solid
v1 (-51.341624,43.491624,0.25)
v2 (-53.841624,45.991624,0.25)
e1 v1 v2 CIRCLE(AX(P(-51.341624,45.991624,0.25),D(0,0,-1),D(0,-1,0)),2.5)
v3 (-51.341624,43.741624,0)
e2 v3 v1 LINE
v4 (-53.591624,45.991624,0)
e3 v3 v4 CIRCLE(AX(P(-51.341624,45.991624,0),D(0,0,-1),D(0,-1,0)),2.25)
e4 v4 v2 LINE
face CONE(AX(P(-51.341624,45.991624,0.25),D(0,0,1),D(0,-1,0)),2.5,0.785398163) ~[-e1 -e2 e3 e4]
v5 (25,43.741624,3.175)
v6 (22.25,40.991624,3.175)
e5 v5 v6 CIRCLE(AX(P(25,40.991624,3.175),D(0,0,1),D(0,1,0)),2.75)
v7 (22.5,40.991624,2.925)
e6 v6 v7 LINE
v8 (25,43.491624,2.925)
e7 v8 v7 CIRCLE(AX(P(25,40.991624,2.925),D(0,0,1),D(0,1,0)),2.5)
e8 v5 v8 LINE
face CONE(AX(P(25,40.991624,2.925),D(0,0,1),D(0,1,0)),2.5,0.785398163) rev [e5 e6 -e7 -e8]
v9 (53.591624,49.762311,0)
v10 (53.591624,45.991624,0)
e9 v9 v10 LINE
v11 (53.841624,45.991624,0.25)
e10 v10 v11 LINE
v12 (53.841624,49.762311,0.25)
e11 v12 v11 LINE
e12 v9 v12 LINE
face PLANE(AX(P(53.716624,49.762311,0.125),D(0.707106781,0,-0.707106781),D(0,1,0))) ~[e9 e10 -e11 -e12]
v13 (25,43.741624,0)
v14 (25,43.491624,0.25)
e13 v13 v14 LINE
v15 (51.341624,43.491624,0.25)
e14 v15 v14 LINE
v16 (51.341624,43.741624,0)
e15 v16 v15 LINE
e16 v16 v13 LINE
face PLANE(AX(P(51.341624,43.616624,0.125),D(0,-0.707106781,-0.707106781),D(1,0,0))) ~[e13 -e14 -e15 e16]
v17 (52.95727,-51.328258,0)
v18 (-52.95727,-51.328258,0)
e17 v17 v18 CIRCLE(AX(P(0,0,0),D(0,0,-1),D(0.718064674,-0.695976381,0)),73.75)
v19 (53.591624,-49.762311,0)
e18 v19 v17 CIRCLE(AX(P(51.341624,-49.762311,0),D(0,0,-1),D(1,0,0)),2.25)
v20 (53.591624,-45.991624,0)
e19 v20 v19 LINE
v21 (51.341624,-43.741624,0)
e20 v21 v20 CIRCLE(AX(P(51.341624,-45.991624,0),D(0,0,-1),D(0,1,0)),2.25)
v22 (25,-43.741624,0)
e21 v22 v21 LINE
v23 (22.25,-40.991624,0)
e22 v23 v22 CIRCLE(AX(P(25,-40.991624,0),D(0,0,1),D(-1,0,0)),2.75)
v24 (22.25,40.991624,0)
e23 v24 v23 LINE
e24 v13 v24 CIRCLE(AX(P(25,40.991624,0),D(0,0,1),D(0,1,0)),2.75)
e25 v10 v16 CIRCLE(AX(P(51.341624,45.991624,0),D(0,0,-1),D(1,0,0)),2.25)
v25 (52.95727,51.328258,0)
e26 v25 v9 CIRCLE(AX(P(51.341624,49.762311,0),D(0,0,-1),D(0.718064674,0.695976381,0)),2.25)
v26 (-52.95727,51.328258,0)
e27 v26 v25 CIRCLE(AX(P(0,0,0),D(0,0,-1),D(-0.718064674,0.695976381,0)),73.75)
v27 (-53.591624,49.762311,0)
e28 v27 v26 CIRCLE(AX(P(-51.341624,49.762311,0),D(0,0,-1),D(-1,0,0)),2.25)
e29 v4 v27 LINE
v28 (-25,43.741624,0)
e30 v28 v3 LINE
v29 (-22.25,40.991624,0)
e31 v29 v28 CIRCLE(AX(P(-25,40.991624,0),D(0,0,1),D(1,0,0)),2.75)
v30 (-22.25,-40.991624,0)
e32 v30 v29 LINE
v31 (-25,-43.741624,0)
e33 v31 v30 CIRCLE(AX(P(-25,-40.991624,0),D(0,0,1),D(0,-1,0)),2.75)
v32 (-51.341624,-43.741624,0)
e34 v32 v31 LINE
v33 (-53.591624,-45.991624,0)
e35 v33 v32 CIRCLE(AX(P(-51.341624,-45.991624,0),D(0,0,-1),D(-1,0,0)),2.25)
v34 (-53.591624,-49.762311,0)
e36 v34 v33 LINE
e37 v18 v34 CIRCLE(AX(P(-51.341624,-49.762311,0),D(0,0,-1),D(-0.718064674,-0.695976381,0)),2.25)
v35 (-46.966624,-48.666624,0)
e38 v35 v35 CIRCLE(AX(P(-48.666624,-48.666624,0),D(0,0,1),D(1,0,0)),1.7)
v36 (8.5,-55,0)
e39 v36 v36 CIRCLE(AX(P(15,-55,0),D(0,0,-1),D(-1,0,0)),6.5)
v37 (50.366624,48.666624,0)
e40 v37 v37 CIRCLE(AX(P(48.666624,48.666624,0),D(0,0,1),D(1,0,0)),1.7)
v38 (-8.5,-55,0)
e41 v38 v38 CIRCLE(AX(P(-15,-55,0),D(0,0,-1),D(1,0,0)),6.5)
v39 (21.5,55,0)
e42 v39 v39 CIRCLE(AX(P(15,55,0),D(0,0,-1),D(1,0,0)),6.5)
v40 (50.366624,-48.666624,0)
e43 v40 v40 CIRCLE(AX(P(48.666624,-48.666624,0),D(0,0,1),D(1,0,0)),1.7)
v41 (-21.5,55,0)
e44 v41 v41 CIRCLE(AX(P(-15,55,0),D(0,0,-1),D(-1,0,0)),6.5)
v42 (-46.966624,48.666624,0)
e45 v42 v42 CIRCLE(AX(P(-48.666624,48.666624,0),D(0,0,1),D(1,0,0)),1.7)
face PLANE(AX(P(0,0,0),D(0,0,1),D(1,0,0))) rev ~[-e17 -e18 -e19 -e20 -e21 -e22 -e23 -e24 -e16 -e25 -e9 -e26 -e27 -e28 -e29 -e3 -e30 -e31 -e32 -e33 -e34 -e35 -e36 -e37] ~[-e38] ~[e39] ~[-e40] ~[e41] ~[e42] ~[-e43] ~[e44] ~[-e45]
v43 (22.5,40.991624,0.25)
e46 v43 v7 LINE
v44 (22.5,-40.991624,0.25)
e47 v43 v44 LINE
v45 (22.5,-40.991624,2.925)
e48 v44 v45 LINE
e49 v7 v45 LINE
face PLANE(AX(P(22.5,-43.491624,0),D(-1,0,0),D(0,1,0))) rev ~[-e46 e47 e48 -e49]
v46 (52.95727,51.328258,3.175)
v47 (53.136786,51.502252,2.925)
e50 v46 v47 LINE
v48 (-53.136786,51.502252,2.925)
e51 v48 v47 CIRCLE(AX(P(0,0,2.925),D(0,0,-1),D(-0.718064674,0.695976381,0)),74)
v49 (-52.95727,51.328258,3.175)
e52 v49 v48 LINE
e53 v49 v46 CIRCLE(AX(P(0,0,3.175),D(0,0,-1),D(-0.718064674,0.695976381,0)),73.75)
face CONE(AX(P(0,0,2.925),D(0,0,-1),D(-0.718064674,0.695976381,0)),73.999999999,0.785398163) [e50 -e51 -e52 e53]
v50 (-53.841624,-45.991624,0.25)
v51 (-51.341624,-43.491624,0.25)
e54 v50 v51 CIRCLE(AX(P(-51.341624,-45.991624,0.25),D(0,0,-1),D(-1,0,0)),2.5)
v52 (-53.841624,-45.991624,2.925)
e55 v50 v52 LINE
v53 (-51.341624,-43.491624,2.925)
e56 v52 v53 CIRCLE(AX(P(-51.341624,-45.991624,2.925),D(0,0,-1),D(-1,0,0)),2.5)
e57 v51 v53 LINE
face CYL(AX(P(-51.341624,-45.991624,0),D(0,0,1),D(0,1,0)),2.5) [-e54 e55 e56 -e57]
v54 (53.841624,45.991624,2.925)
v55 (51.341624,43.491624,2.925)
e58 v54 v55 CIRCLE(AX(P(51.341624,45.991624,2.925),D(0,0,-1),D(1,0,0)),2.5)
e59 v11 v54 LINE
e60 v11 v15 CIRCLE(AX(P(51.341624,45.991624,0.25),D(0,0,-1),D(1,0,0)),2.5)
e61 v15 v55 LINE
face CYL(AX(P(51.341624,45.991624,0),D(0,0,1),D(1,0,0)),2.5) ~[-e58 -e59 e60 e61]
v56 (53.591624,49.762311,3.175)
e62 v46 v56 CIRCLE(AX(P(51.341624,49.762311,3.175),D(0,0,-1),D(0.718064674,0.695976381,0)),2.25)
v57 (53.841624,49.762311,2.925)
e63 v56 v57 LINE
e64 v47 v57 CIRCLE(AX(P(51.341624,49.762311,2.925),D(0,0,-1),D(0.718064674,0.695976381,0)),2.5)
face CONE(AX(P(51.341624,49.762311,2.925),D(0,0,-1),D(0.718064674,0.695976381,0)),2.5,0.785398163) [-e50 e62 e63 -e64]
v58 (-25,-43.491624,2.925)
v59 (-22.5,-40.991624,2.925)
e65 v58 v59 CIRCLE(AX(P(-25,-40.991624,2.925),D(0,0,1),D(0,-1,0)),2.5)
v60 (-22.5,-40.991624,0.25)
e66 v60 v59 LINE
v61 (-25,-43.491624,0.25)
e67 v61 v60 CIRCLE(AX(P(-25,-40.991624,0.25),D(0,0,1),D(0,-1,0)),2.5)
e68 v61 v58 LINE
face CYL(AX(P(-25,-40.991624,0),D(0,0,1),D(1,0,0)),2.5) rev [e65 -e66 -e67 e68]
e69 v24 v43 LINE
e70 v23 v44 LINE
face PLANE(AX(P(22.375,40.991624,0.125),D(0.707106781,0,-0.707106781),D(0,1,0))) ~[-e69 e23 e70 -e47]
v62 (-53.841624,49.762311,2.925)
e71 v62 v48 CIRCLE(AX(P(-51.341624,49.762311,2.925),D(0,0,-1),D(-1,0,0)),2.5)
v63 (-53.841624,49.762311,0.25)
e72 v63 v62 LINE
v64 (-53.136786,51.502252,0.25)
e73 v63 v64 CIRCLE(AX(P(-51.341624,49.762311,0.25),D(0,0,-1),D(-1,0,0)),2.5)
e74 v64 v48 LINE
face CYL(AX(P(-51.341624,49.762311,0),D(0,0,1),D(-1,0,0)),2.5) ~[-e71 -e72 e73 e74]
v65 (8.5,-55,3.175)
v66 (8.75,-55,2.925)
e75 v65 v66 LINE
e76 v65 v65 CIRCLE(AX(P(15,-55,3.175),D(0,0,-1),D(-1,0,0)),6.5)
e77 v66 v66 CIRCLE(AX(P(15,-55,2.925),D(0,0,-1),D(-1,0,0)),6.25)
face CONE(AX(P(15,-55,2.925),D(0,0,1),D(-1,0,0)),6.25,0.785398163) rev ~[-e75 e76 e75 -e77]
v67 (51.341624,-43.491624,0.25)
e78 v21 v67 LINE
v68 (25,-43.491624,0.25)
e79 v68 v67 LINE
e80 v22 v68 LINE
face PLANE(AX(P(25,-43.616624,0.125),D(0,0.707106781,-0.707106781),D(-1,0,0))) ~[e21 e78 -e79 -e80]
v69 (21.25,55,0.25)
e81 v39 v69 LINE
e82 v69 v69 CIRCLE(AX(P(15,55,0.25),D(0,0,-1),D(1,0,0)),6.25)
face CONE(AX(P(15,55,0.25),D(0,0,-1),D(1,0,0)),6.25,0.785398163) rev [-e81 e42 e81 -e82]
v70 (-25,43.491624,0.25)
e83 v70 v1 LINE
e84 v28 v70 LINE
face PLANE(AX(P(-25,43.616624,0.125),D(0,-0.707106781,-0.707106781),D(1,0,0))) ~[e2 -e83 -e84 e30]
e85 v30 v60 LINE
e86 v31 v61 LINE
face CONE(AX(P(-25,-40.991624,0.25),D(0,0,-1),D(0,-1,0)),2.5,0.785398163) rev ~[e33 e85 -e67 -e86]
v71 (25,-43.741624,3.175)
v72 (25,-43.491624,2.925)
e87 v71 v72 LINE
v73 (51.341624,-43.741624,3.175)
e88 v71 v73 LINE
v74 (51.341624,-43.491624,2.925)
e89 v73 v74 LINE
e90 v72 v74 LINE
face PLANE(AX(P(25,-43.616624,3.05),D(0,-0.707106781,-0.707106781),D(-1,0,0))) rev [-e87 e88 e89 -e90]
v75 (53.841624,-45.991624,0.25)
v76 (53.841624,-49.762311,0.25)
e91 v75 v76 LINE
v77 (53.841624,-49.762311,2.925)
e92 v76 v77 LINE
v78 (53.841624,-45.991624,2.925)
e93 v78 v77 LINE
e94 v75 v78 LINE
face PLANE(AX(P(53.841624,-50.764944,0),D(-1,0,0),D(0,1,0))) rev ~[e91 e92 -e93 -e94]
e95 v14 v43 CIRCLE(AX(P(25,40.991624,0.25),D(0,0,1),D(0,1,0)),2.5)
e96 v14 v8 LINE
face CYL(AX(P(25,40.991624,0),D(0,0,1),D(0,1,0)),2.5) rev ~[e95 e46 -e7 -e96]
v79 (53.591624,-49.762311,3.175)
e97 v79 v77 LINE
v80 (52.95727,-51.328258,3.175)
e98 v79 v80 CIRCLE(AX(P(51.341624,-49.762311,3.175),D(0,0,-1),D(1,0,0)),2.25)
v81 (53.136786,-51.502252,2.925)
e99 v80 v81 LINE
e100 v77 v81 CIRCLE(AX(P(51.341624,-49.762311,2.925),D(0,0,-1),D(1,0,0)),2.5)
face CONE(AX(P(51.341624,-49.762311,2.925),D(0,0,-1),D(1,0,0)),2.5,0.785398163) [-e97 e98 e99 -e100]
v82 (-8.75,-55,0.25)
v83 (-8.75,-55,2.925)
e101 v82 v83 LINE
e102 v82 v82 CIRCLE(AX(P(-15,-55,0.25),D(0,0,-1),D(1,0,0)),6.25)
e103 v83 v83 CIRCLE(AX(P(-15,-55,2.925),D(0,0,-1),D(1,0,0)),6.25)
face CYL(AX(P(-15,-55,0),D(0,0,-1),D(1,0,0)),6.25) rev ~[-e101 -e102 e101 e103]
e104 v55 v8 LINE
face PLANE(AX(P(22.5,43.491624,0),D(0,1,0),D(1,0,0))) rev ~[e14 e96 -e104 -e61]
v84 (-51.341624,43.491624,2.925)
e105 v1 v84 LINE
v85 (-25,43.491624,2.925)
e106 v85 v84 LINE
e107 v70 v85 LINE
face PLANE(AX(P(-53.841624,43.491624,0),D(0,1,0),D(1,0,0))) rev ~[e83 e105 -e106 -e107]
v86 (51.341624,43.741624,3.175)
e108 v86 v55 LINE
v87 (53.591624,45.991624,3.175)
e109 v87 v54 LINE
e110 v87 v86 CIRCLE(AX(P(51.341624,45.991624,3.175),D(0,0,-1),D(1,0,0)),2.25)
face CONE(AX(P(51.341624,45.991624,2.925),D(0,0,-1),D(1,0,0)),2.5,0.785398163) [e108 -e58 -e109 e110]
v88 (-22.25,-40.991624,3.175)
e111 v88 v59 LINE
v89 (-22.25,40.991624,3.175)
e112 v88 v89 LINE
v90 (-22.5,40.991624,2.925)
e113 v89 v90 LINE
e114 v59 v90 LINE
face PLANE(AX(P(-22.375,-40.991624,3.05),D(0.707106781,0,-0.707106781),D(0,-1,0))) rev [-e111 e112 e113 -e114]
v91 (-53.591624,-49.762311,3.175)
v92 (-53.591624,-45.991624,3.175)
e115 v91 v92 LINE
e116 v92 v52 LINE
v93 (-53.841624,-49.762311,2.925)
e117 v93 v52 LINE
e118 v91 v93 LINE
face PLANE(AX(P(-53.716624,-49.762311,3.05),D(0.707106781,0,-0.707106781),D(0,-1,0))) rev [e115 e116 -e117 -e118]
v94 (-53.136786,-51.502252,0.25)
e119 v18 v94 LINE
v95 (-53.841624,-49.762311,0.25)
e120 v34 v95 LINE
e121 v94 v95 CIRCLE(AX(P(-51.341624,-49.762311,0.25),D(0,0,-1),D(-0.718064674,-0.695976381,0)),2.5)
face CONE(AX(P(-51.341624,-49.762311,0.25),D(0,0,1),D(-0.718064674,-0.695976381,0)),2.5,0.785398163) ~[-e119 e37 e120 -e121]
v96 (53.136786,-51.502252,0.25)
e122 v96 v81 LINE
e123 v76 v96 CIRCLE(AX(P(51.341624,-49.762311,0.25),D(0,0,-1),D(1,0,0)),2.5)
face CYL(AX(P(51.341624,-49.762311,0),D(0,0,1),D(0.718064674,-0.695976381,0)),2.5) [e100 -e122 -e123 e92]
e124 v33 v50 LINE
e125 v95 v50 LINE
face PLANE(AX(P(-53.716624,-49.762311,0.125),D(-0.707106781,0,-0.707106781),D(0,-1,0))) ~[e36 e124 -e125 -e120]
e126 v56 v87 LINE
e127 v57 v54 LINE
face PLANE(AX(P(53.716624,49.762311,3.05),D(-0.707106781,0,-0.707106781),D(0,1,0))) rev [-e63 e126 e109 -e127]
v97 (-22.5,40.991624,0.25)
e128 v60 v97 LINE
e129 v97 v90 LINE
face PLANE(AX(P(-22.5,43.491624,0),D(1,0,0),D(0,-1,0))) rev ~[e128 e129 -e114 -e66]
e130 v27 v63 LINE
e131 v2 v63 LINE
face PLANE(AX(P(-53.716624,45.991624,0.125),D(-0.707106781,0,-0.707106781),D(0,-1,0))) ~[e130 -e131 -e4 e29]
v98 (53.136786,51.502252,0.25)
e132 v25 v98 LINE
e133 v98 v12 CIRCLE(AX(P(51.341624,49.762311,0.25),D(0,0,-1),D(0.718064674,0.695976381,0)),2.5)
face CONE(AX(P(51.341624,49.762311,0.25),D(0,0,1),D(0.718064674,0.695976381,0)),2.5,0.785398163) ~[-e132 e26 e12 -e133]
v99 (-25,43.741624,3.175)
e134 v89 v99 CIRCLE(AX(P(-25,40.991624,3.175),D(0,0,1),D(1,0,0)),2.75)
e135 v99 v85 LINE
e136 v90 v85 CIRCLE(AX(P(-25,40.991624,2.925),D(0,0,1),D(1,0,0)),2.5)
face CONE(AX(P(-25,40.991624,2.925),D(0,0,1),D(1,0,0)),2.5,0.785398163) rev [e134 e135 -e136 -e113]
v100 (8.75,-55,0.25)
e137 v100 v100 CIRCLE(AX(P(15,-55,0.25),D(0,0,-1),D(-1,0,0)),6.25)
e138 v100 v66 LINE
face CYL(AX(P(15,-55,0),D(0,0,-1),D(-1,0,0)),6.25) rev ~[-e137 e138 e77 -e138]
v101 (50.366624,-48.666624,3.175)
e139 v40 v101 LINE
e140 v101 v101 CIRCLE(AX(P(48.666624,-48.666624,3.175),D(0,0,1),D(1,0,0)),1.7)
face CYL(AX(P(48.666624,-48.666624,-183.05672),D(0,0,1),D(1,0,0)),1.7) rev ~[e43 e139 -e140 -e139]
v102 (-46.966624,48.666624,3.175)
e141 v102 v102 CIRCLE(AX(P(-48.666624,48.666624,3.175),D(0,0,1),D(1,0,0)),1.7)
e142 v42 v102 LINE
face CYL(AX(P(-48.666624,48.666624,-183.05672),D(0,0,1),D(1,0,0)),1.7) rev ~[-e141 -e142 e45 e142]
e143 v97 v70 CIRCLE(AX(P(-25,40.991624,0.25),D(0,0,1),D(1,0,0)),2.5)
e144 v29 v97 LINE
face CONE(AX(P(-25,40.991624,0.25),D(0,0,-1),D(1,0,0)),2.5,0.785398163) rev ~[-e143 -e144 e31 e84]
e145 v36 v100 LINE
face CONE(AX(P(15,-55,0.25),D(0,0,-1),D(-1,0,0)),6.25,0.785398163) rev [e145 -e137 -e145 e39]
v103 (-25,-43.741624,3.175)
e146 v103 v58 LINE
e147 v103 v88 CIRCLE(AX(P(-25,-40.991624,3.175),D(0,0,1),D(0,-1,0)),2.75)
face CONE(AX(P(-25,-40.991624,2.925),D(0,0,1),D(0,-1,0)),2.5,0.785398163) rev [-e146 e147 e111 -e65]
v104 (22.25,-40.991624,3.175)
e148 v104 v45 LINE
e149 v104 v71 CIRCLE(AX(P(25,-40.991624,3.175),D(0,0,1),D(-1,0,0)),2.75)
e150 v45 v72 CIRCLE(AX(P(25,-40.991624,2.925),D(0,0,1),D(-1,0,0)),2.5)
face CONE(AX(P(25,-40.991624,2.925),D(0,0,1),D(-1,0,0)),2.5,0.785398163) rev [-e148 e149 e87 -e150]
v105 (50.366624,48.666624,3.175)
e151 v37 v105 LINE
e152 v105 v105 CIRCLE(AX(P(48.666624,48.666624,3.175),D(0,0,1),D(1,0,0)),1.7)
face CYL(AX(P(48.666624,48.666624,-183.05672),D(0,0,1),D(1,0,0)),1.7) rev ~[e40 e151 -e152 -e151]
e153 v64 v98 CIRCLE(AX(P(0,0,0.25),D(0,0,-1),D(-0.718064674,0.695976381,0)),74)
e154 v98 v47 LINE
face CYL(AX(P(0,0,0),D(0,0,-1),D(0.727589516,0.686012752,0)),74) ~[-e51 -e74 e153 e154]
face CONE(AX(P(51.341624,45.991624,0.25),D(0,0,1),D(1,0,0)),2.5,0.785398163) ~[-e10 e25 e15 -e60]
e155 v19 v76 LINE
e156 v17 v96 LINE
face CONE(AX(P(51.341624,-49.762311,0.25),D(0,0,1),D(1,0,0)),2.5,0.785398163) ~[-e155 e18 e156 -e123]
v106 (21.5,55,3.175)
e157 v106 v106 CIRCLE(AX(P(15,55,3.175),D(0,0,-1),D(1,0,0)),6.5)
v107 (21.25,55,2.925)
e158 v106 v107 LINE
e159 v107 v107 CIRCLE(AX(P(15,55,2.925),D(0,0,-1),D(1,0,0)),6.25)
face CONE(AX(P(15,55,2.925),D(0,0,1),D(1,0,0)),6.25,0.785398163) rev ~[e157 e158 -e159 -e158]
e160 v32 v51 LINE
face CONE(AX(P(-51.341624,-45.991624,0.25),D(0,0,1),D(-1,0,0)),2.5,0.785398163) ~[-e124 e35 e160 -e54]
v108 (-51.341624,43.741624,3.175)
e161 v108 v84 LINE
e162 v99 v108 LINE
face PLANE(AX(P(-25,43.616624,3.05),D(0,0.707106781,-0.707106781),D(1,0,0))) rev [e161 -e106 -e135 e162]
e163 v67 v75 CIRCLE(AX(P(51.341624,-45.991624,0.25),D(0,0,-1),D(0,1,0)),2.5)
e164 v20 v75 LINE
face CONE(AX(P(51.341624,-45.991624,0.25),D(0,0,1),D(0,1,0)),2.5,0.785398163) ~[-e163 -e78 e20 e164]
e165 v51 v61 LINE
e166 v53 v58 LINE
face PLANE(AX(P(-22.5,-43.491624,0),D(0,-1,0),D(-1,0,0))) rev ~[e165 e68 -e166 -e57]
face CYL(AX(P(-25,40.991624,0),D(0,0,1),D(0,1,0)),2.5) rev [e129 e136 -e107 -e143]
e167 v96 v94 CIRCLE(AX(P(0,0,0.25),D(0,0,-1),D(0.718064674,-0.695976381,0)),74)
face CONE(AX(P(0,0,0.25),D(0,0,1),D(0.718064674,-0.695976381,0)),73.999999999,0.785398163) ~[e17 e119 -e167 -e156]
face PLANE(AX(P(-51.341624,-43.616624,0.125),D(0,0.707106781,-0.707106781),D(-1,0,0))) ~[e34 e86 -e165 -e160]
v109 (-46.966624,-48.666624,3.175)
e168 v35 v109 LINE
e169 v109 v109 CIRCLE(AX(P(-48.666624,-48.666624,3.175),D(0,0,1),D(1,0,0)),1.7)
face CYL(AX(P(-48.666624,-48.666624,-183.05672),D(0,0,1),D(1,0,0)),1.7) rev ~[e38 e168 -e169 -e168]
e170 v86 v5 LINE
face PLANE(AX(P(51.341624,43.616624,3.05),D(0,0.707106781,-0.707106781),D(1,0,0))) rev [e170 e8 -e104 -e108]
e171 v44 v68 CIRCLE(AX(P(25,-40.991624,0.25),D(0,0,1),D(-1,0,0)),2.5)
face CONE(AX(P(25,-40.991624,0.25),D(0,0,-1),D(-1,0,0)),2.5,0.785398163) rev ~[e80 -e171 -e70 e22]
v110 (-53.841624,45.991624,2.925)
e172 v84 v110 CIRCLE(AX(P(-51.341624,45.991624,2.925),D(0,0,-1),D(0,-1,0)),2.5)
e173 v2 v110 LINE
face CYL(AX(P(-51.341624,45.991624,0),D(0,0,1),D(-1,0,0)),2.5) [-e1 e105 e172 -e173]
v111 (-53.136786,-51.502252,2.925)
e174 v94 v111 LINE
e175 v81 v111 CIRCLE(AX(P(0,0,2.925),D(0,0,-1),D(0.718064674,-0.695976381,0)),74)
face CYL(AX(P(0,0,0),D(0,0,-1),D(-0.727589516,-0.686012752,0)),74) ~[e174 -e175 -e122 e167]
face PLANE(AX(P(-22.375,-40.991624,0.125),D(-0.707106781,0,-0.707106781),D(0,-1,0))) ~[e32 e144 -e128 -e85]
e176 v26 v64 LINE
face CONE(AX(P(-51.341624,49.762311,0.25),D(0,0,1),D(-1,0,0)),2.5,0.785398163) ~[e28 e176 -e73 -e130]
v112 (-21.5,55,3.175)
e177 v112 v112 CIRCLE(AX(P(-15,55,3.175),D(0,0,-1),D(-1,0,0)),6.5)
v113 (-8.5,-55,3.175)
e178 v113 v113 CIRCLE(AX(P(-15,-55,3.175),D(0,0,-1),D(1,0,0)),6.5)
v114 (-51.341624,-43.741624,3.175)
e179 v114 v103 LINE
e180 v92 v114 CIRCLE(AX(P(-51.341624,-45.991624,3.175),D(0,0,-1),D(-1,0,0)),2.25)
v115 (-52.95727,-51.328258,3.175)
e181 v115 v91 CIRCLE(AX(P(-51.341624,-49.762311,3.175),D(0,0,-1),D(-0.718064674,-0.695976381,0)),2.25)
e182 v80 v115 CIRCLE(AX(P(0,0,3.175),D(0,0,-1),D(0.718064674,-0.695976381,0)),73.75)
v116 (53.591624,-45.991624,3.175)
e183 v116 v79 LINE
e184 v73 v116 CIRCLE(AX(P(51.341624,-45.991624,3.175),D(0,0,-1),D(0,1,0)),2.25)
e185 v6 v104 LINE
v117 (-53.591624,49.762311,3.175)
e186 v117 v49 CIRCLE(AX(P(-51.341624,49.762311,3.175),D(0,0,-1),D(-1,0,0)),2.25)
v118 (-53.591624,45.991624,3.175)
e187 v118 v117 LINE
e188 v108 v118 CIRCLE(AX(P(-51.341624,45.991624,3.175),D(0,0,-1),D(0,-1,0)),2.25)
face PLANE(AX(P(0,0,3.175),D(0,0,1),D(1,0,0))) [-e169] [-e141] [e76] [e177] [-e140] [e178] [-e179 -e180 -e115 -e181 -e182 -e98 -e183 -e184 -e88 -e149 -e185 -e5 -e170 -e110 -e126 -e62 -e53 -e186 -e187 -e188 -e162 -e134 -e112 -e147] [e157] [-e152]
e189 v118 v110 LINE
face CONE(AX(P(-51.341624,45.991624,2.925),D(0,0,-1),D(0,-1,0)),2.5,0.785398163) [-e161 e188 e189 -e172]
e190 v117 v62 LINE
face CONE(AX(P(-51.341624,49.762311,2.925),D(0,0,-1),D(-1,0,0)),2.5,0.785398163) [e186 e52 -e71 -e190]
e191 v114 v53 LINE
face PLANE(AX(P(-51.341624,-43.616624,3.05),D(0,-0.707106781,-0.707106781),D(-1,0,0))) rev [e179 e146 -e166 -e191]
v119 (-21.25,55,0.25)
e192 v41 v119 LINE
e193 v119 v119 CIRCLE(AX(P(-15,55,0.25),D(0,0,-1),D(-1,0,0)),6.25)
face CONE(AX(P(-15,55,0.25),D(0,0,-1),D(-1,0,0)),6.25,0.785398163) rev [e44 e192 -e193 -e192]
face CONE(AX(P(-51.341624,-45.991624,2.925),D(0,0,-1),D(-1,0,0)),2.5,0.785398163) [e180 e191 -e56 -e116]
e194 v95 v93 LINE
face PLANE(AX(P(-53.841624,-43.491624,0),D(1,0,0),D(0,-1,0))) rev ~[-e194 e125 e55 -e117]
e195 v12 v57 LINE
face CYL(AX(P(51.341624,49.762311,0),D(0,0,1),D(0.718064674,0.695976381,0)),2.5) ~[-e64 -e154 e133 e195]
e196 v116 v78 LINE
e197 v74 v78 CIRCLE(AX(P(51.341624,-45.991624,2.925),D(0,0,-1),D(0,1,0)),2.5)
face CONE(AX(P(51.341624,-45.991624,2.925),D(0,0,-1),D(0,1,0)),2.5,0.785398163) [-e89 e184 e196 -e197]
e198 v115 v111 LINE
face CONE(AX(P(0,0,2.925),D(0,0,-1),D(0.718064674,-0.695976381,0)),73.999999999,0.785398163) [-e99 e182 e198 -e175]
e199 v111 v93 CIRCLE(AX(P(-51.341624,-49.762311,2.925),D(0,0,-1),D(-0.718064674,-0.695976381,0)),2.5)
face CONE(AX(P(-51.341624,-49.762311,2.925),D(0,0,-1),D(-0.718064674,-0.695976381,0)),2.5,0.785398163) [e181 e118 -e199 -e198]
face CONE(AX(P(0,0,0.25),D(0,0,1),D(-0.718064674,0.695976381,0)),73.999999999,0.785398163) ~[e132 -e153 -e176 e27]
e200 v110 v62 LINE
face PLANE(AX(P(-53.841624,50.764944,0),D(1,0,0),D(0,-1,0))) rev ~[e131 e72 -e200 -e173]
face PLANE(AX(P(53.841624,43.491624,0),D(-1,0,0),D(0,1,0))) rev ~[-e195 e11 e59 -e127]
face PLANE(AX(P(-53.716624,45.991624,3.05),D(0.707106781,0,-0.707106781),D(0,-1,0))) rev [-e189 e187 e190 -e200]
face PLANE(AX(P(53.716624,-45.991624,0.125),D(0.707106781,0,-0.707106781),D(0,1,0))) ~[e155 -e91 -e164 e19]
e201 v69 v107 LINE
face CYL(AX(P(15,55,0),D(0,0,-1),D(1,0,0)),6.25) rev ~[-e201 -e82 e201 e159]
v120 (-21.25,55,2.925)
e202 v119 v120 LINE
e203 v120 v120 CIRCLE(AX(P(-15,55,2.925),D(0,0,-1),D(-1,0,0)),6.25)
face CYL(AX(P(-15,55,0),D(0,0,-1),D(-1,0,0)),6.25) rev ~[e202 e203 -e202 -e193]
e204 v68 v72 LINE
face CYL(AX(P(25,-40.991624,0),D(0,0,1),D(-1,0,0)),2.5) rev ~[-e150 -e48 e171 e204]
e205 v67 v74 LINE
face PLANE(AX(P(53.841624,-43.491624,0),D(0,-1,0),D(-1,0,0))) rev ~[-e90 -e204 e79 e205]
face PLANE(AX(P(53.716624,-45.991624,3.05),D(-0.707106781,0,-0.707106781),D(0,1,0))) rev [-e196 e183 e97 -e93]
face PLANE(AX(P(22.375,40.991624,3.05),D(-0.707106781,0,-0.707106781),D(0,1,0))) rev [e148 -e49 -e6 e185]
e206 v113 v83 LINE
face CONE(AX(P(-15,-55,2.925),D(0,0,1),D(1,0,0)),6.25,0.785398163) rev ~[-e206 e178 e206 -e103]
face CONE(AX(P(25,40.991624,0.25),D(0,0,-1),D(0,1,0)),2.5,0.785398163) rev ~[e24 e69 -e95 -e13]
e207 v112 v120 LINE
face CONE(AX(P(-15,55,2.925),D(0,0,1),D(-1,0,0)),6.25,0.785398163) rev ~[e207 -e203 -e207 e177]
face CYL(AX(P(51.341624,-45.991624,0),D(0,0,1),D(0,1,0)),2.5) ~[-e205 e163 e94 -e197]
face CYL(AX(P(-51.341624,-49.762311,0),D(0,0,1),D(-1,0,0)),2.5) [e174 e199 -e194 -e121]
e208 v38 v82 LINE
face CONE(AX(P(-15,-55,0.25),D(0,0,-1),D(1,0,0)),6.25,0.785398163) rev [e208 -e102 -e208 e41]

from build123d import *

# Parameters (mm, degrees)
BOSS_EXTRUDE1_DEPTH  = 3.175
M3_CLEARANCE_HOLE1_D = 3.4
SKETCH7_R            = 6.25
CUT_EXTRUDE3_DEPTH   = 92.569651758
FILLET1_R            = 2.5
CHAMFER1_SIZE        = 0.25


with BuildPart() as part:
    # Sketch1 → Boss-Extrude1 (new body)
    with BuildSketch(Plane.XY):
        with BuildLine():
            Line((-53.841624215, 50.764943631), (-53.841624215, 43.491624215))
            Line((-53.841624215, 43.491624215), (-22.5, 43.491624215))
            Line((-22.5, 43.491624215), (-22.5, -43.491624215))
            Line((-22.5, -43.491624215), (-53.841624215, -43.491624215))
            Line((-53.841624215, -43.491624215), (-53.841624215, -50.764943631))
            ThreePointArc((-53.841624215, -50.764943631), (0, -74), (53.841624215, -50.764943631))
            Line((53.841624215, -50.764943631), (53.841624215, -43.491624215))
            Line((53.841624215, -43.491624215), (22.5, -43.491624215))
            Line((22.5, -43.491624215), (22.5, 43.491624215))
            Line((22.5, 43.491624215), (53.841624215, 43.491624215))
            Line((53.841624215, 43.491624215), (53.841624215, 50.764943631))
            ThreePointArc((53.841624215, 50.764943631), (0, 74), (-53.841624215, 50.764943631))
        make_face()
    extrude(amount=BOSS_EXTRUDE1_DEPTH)

    # M3 Clearance Hole1 (through all)
    with Locations(Plane(origin=(48.666624215, 48.666624215, 0), x_dir=(-1, 0, 0), z_dir=(0, 0, -1))):
        with Locations((0, 0), (97.33324843, 0), (97.33324843, -97.33324843), (0, -97.33324843)):
            Hole(M3_CLEARANCE_HOLE1_D / 2)

    # Sketch7 → Cut-Extrude3 (cut, through all)
    with BuildSketch(Plane(origin=(0, 0, 0), x_dir=(-1, 0, 0), z_dir=(0, 0, -1))):
        with Locations((15, 55)):
            Circle(SKETCH7_R)
        with Locations(Location((-15, 55, 0), (0, 0, 180))):
            Circle(SKETCH7_R)
        with Locations((-15, -55)):
            Circle(SKETCH7_R)
        with Locations(Location((15, -55, 0), (0, 0, 180))):
            Circle(SKETCH7_R)
    extrude(amount=-CUT_EXTRUDE3_DEPTH, mode=Mode.SUBTRACT)

    # Fillet1
    fillet1_edges = [part.edges().sort_by_distance(p)[0] for p in [
        (53.841624215, 50.764943631, 1.5875),
        (53.841624215, 43.491624215, 1.5875),
        (22.5, 43.491624215, 1.5875),
        (22.5, -43.491624215, 1.5875),
        (53.841624215, -43.491624215, 1.5875),
        (53.841624215, -50.764943631, 1.5875),
        (-53.841624215, -50.764943631, 1.5875),
        (-53.841624215, -43.491624215, 1.5875),
        (-22.5, -43.491624215, 1.5875),
        (-22.5, 43.491624215, 1.5875),
        (-53.841624215, 43.491624215, 1.5875),
        (-53.841624215, 50.764943631, 1.5875),
    ]]
    fillet(fillet1_edges, radius=FILLET1_R)

    # Chamfer1
    chamfer1_edges = [part.edges().sort_by_distance(p)[0] for p in [
        (23.232233047, 42.759391168, 0),
        (23.232233047, 42.759391168, 3.175),
        (23.232233047, -42.759391168, 0),
        (23.232233047, -42.759391168, 3.175),
        (-23.232233047, -42.759391168, 0),
        (-23.232233047, -42.759391168, 3.175),
        (-23.232233047, 42.759391168, 0),
        (-23.232233047, 42.759391168, 3.175),
        (-21.25, -55, 3.175),
        (-21.25, -55, 0),
        (21.25, -55, 3.175),
        (21.25, -55, 0),
        (8.75, 55, 3.175),
        (8.75, 55, 0),
        (-8.75, 55, 3.175),
        (-8.75, 55, 0),
        (0, 74, 0),
        (0, 74, 3.175),
        (53.841624215, 47.876967743, 0),
        (38.170812108, 43.491624215, 0),
        (22.5, 0, 0),
        (38.170812108, -43.491624215, 0),
        (53.841624215, -47.876967743, 0),
        (0, -74, 0),
        (-53.841624215, -47.876967743, 0),
        (-38.170812108, -43.491624215, 0),
        (-22.5, 0, 0),
        (-38.170812108, 43.491624215, 0),
        (-53.841624215, 47.876967743, 0),
        (-53.65872415, -50.700952785, 0),
        (-53.65872415, 50.700952785, 0),
        (-53.109391168, 44.223857262, 0),
        (-53.109391168, -44.223857262, 0),
        (53.65872415, -50.700952785, 0),
        (53.109391168, -44.223857262, 0),
        (53.109391168, 44.223857262, 0),
        (53.65872415, 50.700952785, 0),
        (53.841624215, 47.876967743, 3.175),
        (-53.841624215, 47.876967743, 3.175),
        (-38.170812108, 43.491624215, 3.175),
        (-22.5, 0, 3.175),
        (-38.170812108, -43.491624215, 3.175),
        (-53.841624215, -47.876967743, 3.175),
        (0, -74, 3.175),
        (53.841624215, -47.876967743, 3.175),
        (38.170812108, -43.491624215, 3.175),
        (22.5, 0, 3.175),
        (38.170812108, 43.491624215, 3.175),
        (-53.65872415, -50.700952785, 3.175),
        (-53.65872415, 50.700952785, 3.175),
        (-53.109391168, 44.223857262, 3.175),
        (-53.109391168, -44.223857262, 3.175),
        (53.65872415, -50.700952785, 3.175),
        (53.109391168, -44.223857262, 3.175),
        (53.109391168, 44.223857262, 3.175),
        (53.65872415, 50.700952785, 3.175),
    ]]
    chamfer(chamfer1_edges, length=CHAMFER1_SIZE)


solid = part.part
